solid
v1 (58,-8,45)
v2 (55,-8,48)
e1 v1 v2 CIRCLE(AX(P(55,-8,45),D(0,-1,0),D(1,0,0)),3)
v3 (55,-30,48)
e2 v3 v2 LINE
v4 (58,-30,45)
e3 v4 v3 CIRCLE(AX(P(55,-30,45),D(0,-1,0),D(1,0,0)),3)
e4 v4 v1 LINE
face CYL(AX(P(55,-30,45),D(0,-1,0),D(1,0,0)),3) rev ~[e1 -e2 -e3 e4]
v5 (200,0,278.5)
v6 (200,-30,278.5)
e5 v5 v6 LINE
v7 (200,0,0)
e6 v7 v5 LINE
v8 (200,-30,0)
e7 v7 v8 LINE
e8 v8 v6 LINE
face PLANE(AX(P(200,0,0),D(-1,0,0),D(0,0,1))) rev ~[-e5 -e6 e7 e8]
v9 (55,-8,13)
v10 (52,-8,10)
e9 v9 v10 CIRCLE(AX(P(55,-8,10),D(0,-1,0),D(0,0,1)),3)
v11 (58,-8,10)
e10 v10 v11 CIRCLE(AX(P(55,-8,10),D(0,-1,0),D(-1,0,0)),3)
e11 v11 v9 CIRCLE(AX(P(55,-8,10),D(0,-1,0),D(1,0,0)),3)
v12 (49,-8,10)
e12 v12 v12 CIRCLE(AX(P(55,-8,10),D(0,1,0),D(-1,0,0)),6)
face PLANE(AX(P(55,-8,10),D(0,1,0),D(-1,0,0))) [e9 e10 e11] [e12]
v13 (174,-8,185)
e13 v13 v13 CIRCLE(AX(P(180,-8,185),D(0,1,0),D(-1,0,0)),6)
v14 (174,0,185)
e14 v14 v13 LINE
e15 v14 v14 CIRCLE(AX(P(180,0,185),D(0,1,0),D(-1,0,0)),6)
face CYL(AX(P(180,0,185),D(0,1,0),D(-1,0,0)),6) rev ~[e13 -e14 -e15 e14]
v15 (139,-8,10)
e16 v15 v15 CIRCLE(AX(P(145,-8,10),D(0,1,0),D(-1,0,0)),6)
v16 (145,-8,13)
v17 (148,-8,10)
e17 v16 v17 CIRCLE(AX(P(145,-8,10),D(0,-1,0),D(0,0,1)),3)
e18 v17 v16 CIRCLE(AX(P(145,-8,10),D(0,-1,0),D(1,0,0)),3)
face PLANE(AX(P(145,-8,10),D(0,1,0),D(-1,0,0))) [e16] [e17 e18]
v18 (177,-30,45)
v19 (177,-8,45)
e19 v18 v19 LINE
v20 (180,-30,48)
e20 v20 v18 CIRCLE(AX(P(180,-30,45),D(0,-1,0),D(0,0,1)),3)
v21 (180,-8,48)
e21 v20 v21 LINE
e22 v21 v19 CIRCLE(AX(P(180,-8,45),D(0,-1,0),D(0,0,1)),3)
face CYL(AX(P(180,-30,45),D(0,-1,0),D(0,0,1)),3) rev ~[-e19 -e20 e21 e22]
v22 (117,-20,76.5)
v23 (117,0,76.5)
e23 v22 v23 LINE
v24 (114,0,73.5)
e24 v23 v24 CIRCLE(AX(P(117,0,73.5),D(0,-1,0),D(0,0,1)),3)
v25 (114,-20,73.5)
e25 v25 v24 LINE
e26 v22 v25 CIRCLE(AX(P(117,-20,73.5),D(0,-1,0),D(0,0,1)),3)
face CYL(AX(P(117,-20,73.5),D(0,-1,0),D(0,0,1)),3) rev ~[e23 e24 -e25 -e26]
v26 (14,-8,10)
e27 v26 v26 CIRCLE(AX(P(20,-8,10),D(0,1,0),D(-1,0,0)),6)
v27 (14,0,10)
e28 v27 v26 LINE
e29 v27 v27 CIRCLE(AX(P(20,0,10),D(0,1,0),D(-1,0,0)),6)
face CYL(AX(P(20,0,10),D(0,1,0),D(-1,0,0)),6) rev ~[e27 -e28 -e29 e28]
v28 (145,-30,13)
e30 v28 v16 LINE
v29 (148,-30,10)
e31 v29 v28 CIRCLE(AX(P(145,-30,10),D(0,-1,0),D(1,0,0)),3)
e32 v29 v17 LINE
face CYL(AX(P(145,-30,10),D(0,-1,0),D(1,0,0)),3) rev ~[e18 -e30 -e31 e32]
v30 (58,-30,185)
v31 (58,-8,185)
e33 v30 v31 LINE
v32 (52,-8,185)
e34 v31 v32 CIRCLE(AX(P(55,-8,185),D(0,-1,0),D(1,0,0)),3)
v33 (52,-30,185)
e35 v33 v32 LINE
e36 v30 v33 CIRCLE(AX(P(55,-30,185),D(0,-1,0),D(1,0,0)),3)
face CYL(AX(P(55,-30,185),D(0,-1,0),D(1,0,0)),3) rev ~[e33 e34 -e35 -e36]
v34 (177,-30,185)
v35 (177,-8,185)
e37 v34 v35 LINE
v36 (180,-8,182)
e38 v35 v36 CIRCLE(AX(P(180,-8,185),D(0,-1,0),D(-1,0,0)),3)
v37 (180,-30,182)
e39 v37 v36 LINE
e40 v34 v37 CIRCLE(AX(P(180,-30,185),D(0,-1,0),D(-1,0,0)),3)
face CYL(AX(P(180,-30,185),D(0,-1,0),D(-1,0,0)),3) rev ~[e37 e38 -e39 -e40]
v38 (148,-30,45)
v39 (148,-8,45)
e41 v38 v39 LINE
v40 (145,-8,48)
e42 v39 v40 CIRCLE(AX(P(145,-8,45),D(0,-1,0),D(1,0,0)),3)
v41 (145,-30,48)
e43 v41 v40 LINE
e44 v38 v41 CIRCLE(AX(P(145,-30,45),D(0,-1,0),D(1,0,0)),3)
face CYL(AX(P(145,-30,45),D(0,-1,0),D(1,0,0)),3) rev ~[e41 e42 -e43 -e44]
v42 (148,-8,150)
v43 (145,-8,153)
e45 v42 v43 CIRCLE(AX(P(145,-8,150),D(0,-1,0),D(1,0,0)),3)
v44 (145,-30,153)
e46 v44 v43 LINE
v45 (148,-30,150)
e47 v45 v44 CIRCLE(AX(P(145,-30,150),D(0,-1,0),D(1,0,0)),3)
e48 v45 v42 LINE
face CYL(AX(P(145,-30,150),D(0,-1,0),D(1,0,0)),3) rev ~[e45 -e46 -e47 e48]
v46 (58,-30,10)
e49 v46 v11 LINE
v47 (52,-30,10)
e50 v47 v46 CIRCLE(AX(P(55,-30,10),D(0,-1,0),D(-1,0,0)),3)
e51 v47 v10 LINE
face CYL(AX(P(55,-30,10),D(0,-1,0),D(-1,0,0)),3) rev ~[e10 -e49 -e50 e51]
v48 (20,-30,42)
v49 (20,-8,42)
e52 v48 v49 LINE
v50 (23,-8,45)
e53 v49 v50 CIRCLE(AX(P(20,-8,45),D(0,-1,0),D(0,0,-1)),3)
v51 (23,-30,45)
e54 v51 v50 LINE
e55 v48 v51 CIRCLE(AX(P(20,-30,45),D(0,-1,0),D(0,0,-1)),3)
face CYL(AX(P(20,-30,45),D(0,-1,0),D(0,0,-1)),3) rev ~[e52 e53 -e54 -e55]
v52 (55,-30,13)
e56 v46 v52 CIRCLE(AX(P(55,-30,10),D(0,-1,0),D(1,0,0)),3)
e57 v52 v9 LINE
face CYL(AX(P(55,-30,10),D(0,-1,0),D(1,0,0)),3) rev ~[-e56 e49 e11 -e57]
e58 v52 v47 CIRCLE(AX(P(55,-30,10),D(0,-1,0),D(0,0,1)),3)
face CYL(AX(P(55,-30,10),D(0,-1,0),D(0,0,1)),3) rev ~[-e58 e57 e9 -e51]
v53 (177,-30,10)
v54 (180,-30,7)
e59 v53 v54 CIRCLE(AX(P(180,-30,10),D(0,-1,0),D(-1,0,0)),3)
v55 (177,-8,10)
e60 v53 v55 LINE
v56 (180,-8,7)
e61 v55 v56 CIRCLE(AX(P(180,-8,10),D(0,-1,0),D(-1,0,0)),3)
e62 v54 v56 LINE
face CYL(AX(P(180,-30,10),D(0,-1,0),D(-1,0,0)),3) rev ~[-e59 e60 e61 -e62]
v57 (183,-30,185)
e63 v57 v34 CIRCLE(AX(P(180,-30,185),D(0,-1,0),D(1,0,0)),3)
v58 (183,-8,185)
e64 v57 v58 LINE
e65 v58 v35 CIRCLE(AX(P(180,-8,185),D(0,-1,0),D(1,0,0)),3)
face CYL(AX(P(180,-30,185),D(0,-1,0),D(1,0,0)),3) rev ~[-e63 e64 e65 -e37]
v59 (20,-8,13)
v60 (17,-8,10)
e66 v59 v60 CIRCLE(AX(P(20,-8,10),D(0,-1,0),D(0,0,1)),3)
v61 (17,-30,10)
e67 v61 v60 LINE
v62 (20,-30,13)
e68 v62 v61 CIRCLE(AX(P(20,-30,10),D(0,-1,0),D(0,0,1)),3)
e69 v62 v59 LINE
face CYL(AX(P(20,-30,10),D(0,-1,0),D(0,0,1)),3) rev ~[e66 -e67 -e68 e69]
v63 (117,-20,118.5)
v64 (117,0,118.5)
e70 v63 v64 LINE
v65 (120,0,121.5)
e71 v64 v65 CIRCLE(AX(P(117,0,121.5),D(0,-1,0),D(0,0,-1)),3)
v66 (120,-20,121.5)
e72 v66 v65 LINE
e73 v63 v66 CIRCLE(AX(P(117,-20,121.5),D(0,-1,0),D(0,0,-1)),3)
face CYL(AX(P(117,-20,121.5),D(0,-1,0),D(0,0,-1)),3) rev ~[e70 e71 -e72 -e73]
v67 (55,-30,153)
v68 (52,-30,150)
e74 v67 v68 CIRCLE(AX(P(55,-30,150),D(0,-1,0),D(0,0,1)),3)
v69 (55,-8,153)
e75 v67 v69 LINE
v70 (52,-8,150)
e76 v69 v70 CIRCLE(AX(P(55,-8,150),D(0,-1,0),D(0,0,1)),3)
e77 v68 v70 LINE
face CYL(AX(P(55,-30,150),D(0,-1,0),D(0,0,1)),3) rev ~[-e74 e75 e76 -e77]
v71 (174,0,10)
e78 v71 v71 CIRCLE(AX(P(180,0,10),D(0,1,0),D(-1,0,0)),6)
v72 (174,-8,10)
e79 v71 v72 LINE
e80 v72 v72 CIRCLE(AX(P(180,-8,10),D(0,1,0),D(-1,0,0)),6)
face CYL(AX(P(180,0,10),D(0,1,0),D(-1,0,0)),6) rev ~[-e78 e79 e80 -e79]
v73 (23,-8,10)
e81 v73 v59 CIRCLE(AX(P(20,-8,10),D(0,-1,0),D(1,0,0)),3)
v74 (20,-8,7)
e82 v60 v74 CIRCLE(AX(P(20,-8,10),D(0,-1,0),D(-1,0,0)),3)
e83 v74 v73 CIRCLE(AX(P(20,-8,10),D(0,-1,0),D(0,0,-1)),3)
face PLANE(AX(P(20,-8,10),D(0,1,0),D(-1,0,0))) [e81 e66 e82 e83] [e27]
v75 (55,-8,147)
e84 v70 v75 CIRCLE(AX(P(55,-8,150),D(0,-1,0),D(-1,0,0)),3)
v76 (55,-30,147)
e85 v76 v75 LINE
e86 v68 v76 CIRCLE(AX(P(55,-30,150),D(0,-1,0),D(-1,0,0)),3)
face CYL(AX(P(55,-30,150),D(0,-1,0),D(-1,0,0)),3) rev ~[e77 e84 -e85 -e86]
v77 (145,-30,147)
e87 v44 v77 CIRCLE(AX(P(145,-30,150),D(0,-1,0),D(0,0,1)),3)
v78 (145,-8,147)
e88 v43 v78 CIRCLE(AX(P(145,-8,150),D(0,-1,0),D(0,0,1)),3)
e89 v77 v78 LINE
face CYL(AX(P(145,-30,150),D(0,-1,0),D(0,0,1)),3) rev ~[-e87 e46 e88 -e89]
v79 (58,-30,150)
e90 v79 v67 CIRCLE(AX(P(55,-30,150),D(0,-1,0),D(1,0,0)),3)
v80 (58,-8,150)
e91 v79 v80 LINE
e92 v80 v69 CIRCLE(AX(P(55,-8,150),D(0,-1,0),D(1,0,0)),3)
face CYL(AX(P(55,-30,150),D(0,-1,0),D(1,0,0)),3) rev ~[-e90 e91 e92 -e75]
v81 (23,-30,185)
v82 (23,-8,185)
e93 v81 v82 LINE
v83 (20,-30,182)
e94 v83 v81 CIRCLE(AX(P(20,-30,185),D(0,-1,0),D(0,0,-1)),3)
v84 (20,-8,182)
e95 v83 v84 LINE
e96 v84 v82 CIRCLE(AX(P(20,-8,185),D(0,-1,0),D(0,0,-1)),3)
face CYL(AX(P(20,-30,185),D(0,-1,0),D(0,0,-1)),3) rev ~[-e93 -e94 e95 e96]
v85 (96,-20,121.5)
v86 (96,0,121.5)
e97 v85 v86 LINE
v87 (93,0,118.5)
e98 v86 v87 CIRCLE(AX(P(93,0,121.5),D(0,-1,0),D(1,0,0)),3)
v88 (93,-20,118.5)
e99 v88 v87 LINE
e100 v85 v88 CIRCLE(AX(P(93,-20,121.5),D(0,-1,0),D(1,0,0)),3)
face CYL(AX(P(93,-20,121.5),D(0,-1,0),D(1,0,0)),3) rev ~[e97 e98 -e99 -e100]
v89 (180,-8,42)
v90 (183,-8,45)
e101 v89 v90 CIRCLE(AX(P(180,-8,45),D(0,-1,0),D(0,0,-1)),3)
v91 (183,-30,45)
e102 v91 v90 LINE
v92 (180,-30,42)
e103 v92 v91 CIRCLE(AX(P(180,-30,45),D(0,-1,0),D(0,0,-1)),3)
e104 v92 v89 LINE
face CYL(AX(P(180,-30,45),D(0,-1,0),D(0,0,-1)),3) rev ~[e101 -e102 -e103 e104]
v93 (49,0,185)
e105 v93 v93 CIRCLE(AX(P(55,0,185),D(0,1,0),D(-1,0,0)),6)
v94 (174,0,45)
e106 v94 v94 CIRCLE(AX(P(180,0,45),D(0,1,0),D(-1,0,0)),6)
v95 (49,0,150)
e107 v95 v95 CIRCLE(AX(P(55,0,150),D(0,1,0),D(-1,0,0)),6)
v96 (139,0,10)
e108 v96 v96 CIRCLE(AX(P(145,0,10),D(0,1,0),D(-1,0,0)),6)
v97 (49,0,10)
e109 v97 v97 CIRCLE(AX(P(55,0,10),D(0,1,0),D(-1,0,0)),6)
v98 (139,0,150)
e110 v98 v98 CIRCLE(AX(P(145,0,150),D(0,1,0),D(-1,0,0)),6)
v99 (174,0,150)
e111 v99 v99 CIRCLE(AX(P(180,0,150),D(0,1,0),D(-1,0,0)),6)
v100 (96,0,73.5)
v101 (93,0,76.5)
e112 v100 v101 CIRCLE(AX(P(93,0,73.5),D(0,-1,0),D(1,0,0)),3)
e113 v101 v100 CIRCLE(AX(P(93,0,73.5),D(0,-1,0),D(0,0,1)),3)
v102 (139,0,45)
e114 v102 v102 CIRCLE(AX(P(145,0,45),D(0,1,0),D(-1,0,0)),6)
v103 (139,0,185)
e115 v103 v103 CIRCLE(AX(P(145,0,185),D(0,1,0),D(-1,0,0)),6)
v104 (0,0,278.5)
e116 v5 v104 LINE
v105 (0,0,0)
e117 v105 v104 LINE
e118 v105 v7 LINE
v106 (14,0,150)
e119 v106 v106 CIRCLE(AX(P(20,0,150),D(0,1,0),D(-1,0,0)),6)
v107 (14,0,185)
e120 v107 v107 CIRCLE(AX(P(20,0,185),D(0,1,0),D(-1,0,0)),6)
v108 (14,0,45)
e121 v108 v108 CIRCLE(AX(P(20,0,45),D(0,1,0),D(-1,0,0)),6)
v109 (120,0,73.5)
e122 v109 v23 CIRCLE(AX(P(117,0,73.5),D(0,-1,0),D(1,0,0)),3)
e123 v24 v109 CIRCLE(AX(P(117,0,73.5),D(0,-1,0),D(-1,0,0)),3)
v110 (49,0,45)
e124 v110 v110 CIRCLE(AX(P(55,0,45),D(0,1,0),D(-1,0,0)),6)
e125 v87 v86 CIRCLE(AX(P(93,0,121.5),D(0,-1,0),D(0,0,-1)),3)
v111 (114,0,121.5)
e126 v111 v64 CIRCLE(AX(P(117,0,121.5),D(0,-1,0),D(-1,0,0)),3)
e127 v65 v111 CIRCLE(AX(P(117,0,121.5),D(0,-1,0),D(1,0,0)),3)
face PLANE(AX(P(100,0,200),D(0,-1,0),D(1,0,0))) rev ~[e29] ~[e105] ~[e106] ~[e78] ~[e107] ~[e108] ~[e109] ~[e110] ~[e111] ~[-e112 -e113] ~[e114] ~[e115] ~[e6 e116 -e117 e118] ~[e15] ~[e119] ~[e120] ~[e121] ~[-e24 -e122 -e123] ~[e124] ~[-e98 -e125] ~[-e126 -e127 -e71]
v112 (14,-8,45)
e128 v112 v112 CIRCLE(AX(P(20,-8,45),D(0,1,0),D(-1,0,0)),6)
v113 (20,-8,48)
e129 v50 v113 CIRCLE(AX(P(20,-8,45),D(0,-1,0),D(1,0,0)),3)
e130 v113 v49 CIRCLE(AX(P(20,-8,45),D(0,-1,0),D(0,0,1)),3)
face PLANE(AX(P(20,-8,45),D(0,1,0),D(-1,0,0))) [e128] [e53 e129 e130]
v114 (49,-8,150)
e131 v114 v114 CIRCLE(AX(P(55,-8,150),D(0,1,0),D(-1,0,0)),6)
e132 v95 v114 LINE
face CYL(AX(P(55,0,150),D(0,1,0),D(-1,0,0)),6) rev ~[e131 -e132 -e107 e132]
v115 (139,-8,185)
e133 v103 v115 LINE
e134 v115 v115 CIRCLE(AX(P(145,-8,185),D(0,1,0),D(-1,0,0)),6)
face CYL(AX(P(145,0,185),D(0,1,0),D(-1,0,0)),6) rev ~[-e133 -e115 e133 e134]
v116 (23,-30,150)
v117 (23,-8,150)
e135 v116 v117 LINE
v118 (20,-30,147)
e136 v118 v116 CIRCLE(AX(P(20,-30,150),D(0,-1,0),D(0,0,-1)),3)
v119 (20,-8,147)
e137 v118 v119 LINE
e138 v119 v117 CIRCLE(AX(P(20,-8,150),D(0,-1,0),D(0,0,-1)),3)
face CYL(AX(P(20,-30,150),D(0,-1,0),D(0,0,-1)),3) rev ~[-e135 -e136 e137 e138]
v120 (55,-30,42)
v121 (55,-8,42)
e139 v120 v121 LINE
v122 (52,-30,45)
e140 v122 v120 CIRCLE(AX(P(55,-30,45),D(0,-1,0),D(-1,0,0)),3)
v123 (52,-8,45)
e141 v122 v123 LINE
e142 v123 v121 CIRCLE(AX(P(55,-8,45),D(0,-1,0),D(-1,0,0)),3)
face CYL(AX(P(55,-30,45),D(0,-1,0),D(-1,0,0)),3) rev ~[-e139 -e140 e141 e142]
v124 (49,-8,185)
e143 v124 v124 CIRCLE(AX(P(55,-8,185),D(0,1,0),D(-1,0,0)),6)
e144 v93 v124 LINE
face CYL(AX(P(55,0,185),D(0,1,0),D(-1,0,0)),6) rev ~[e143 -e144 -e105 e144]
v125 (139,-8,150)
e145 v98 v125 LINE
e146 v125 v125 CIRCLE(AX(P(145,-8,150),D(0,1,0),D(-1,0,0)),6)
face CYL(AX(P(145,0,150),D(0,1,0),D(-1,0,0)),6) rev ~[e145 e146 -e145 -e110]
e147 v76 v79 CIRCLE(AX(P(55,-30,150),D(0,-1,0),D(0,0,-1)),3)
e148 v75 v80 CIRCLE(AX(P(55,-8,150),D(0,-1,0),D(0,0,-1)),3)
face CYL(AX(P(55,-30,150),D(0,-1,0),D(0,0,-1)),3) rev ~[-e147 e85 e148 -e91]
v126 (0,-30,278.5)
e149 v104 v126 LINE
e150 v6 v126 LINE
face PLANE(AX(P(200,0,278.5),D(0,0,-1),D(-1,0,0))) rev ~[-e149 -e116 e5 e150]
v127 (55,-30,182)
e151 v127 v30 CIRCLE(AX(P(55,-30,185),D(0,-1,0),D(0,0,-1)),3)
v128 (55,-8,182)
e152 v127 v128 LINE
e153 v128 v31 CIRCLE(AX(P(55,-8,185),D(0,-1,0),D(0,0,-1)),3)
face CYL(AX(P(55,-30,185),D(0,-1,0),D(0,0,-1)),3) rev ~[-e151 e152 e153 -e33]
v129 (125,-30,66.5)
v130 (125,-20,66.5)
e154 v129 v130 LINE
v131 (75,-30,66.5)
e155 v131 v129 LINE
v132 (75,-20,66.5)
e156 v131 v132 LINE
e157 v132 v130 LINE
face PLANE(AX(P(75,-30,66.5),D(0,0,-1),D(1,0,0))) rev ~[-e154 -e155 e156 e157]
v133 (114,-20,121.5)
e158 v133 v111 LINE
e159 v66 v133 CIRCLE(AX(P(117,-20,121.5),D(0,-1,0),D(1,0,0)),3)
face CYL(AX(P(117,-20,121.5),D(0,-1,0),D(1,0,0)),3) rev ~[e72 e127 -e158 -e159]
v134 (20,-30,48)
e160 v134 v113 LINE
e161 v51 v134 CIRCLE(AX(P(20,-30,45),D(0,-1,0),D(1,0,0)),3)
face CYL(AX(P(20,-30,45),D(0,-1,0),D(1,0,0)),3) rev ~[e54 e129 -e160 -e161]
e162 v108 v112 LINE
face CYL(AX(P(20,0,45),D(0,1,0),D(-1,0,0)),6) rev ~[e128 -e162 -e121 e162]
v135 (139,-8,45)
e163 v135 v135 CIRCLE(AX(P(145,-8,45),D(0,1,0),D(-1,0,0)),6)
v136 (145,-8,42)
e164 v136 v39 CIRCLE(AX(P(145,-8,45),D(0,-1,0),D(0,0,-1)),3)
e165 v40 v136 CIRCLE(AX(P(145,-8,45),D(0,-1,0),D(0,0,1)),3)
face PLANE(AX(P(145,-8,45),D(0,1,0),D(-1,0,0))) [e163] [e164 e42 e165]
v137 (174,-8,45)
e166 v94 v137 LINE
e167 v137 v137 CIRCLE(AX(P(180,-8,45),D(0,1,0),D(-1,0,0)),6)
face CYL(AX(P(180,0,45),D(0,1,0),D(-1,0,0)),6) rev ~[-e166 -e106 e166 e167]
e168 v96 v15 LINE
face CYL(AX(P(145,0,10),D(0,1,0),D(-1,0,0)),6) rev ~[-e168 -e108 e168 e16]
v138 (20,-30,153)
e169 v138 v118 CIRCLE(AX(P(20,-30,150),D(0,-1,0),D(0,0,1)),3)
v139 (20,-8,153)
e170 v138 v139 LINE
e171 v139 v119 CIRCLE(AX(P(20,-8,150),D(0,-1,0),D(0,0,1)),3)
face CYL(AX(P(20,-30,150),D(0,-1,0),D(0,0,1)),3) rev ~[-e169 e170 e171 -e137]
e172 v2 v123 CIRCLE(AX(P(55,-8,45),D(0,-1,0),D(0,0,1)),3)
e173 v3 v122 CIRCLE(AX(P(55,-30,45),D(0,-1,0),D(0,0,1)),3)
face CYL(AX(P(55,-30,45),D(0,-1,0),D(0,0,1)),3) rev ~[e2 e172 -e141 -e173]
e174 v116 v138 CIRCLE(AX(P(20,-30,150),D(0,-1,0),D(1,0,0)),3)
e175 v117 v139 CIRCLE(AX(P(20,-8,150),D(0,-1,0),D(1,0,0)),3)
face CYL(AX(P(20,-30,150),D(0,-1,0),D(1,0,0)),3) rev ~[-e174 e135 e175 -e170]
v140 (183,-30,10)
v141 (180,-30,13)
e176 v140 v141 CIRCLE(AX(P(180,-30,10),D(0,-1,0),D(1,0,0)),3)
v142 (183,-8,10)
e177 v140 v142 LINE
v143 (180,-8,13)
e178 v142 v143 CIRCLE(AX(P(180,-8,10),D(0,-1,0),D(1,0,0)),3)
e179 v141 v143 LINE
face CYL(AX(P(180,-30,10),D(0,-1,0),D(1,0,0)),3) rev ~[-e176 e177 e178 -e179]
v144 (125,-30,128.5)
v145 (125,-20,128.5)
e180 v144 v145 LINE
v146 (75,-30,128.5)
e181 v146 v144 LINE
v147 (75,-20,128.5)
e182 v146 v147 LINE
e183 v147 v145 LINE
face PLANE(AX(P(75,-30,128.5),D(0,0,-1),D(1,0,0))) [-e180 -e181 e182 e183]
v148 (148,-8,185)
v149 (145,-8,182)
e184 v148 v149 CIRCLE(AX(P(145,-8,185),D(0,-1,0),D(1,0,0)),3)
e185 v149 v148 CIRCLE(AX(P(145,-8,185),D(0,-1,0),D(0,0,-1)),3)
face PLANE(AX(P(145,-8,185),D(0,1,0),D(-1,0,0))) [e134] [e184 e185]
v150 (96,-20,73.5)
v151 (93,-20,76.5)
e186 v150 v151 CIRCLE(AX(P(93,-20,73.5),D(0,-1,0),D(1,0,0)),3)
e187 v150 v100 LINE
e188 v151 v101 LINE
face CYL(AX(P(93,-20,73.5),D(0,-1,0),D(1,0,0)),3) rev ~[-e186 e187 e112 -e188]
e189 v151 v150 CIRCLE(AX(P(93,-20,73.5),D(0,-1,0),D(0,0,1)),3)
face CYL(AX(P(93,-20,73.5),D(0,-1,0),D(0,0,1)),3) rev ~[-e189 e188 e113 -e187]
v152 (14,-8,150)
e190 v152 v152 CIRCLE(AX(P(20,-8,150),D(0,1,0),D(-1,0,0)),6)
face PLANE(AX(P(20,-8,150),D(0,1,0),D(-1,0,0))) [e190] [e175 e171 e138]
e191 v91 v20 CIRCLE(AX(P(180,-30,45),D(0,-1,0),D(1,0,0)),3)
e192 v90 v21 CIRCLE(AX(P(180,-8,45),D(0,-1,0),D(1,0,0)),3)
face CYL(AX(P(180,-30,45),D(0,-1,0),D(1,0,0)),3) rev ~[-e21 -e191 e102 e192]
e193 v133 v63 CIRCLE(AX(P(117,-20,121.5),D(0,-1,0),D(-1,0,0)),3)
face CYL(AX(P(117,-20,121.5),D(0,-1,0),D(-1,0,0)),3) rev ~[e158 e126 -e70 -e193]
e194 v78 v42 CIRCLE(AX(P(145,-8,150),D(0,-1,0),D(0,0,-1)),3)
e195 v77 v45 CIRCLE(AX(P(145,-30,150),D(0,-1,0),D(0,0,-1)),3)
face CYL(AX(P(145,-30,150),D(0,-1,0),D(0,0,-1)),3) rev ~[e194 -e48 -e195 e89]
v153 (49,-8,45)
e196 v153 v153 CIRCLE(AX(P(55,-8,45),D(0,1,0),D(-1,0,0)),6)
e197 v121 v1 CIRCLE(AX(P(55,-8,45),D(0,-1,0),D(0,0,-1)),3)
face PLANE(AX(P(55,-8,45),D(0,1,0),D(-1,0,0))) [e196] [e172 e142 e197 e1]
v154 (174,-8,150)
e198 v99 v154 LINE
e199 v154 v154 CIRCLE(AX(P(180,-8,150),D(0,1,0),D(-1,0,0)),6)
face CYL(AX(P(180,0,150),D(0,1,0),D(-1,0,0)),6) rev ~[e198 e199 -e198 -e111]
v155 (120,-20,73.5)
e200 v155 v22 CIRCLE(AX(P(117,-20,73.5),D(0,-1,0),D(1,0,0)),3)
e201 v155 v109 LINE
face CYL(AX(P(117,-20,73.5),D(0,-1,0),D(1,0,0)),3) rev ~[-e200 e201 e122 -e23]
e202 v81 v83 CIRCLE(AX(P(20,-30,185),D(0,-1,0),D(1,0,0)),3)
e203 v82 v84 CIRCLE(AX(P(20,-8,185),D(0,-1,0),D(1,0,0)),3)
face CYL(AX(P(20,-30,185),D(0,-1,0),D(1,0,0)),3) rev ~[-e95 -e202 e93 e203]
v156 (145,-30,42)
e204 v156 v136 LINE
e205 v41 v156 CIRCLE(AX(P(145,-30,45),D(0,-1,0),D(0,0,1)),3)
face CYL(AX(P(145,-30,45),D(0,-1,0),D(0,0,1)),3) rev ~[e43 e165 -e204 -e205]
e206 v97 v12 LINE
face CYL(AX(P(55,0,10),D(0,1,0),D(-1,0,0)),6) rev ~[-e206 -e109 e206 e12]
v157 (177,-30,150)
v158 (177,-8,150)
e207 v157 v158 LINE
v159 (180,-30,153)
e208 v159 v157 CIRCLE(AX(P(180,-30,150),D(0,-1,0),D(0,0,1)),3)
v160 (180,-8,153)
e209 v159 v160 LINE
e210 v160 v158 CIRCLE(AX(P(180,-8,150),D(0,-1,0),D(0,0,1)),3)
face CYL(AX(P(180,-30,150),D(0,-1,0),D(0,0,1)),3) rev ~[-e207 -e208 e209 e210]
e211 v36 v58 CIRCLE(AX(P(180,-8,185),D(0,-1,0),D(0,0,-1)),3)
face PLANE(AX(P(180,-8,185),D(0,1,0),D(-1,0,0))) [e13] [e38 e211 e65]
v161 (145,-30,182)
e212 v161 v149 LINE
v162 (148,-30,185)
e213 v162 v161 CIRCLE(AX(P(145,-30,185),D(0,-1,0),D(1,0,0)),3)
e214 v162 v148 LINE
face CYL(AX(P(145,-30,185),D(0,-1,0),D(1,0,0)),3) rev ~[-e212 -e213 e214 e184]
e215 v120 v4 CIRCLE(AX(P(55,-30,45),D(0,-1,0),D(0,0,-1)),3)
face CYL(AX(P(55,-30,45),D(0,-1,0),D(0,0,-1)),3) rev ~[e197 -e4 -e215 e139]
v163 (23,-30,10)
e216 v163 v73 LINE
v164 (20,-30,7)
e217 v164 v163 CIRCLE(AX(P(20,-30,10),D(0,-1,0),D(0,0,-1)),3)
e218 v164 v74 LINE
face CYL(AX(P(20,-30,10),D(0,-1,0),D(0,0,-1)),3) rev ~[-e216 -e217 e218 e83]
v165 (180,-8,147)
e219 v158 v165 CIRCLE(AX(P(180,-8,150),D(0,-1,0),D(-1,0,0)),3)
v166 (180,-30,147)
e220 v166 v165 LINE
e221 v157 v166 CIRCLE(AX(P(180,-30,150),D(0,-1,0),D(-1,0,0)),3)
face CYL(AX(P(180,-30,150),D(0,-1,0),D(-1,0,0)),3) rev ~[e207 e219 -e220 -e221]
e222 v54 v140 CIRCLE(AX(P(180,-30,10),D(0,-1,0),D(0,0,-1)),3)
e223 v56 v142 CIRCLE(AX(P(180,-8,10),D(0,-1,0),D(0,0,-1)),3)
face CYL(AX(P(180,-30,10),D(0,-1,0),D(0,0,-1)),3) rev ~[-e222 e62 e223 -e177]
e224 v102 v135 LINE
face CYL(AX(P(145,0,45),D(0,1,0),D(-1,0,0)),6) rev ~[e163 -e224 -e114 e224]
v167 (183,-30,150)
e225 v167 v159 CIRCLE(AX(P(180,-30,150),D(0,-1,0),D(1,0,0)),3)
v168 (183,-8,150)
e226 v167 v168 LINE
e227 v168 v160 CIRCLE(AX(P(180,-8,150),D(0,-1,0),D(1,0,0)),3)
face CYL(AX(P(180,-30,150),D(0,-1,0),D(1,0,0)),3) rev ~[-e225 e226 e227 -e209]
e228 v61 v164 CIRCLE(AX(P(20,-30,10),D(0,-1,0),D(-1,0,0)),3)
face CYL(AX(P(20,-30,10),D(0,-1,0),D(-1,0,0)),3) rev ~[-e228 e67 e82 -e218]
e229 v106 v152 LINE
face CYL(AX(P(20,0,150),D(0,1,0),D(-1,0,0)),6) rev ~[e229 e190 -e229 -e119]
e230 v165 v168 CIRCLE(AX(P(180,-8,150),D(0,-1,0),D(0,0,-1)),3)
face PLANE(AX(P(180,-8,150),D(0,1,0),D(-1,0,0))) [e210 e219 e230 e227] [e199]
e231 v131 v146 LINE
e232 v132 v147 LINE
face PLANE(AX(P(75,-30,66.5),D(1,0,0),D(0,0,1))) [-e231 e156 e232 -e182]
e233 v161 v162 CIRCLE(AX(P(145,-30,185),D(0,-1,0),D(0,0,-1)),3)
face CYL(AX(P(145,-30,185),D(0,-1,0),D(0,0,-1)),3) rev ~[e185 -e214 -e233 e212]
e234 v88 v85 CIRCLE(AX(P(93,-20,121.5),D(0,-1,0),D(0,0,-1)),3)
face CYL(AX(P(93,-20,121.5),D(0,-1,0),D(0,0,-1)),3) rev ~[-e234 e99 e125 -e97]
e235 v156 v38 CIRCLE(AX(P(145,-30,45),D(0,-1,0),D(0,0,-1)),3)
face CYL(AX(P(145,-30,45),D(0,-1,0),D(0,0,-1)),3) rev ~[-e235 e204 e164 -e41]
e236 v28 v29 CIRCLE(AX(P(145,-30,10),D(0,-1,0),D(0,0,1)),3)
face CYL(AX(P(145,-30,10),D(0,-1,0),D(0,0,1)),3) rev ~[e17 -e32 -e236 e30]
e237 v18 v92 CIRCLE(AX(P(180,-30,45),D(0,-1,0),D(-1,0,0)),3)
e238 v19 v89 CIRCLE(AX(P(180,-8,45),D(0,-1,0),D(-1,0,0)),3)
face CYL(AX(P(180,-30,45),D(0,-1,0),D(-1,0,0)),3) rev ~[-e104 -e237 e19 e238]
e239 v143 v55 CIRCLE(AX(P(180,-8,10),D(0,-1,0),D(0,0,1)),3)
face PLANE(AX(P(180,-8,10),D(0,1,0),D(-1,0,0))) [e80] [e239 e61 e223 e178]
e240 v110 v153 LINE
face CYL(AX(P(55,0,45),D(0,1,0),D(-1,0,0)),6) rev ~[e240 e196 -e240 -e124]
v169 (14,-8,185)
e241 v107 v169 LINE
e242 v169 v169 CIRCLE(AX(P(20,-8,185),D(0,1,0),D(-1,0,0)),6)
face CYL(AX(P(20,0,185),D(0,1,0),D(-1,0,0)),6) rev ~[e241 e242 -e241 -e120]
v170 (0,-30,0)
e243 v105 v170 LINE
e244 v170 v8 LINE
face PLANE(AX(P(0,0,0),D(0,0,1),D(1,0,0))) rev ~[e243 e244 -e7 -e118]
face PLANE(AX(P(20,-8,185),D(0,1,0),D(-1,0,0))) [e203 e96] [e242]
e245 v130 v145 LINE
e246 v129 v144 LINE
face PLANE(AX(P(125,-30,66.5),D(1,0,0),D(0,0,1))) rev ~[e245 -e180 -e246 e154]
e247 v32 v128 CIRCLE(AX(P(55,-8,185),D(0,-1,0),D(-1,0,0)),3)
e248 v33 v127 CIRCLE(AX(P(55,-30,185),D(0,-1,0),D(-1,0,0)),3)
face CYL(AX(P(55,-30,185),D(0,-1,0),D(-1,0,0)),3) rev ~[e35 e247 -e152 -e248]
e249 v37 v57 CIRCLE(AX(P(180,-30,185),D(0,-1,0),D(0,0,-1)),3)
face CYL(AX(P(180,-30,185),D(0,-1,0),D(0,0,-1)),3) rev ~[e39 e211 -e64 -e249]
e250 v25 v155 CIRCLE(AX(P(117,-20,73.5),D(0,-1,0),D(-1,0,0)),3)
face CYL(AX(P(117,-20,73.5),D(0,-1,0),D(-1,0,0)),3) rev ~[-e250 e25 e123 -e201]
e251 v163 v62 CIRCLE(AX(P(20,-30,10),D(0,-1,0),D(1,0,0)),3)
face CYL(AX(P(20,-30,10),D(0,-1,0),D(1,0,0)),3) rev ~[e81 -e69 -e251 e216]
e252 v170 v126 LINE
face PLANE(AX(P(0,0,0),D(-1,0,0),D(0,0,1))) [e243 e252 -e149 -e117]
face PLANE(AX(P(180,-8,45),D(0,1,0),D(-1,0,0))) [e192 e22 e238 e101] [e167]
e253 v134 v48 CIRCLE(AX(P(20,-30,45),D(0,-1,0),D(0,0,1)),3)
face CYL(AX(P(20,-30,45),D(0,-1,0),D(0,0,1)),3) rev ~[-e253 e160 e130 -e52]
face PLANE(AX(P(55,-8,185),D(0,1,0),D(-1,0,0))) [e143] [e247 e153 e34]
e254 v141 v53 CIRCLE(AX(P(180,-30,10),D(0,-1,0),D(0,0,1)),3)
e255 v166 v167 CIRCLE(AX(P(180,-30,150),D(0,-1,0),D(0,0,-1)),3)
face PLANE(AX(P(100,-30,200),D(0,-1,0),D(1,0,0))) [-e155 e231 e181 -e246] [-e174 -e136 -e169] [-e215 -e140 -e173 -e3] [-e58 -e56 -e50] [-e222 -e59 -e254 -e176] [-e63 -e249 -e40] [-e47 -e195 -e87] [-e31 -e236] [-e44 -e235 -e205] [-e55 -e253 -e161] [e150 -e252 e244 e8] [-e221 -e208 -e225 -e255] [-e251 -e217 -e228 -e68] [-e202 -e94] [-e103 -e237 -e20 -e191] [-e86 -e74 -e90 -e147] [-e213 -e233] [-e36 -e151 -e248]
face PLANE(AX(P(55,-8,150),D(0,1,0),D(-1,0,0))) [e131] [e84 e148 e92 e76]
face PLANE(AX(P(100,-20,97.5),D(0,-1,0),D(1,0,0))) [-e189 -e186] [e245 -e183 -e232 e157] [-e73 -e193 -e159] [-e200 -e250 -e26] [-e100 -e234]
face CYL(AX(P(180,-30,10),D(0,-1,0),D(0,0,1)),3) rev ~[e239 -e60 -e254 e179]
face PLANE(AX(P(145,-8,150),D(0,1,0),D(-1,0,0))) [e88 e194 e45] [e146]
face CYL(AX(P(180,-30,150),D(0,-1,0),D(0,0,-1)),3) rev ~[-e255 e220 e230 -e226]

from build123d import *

# Parameters (mm, degrees)
F0_W      = 200
F0_H      = 400
F1_DEPTH  = 30
F3_DEPTH  = 30
F4_W      = 50
F4_H      = 62
F5_DEPTH  = 10
F6_R      = 6
F7_DEPTH  = 8
F9_DEPTH  = 30
F10_W     = 200
F10_H     = 121.5
F11_DEPTH = 30


with BuildPart() as f1:
    # F0 (on Front) → F1 (new body)
    with BuildSketch(Plane.XZ):
        with Locations((100, 200)):
            Rectangle(F0_W, F0_H)
    extrude(amount=F1_DEPTH)

    # F2 (on face) → F3 (cut)
    with BuildSketch(Plane.XZ.offset(30)):
        with BuildLine():
            ThreePointArc((23, 185), (17.8786796564, 187.1213203436), (20, 182))
            Line((20, 182), (20, 185))
            Line((20, 185), (23, 185))
        make_face()
        with BuildLine():
            Line((20, 185), (20, 182))
            ThreePointArc((20, 182), (22.1213203436, 182.8786796564), (23, 185))
            Line((23, 185), (20, 185))
        make_face()
        with BuildLine():
            ThreePointArc((20, 153), (17, 150), (20, 147))
            Line((20, 147), (20, 150))
            Line((20, 150), (20, 153))
        make_face()
        with BuildLine():
            Line((20, 153), (20, 150))
            Line((20, 150), (23, 150))
            ThreePointArc((23, 150), (22.1213203436, 152.1213203436), (20, 153))
        make_face()
        with BuildLine():
            Line((20, 150), (20, 147))
            ThreePointArc((20, 147), (22.1213203436, 147.8786796564), (23, 150))
            Line((23, 150), (20, 150))
        make_face()
        with BuildLine():
            Line((55, 150), (52, 150))
            ThreePointArc((52, 150), (52.8786796564, 147.8786796564), (55, 147))
            Line((55, 147), (55, 150))
        make_face()
        with BuildLine():
            ThreePointArc((55, 153), (52.8786796564, 152.1213203436), (52, 150))
            Line((52, 150), (55, 150))
            Line((55, 150), (55, 153))
        make_face()
        with BuildLine():
            Line((55, 150), (55, 147))
            ThreePointArc((55, 147), (57.1213203436, 147.8786796564), (58, 150))
            ThreePointArc((58, 150), (57.1213203436, 152.1213203436), (55, 153))
            Line((55, 153), (55, 150))
        make_face()
        with BuildLine():
            Line((55, 185), (52, 185))
            ThreePointArc((52, 185), (52.8786796564, 182.8786796564), (55, 182))
            Line((55, 182), (55, 185))
        make_face()
        with BuildLine():
            ThreePointArc((58, 185), (55, 188), (52, 185))
            Line((52, 185), (55, 185))
            Line((55, 185), (55, 182))
            ThreePointArc((55, 182), (57.1213203436, 182.8786796564), (58, 185))
        make_face()
        with BuildLine():
            ThreePointArc((148, 185), (142.8786796564, 187.1213203436), (145, 182))
            Line((145, 182), (145, 185))
            Line((145, 185), (148, 185))
        make_face()
        with BuildLine():
            Line((145, 185), (145, 182))
            ThreePointArc((145, 182), (147.1213203436, 182.8786796564), (148, 185))
            Line((148, 185), (145, 185))
        make_face()
        with BuildLine():
            ThreePointArc((177, 185), (177.8786796564, 182.8786796564), (180, 182))
            Line((180, 182), (180, 185))
            Line((180, 185), (177, 185))
        make_face()
        with BuildLine():
            Line((180, 185), (180, 182))
            ThreePointArc((180, 182), (182.1213203436, 182.8786796564), (183, 185))
            ThreePointArc((183, 185), (180, 188), (177, 185))
            Line((177, 185), (180, 185))
        make_face()
        with BuildLine():
            ThreePointArc((177, 150), (177.8786796564, 147.8786796564), (180, 147))
            Line((180, 147), (180, 150))
            Line((180, 150), (177, 150))
        make_face()
        with BuildLine():
            Line((177, 150), (180, 150))
            Line((180, 150), (180, 153))
            ThreePointArc((180, 153), (177.8786796564, 152.1213203436), (177, 150))
        make_face()
        with BuildLine():
            Line((180, 150), (180, 147))
            ThreePointArc((180, 147), (182.1213203436, 147.8786796564), (183, 150))
            ThreePointArc((183, 150), (182.1213203436, 152.1213203436), (180, 153))
            Line((180, 153), (180, 150))
        make_face()
        with BuildLine():
            Line((145, 150), (145, 147))
            ThreePointArc((145, 147), (147.1213203436, 147.8786796564), (148, 150))
            Line((148, 150), (145, 150))
        make_face()
        with BuildLine():
            Line((145, 153), (145, 150))
            Line((145, 150), (148, 150))
            ThreePointArc((148, 150), (147.1213203436, 152.1213203436), (145, 153))
        make_face()
        with BuildLine():
            ThreePointArc((145, 153), (142, 150), (145, 147))
            Line((145, 147), (145, 150))
            Line((145, 150), (145, 153))
        make_face()
        with BuildLine():
            Line((180, 45), (180, 42))
            ThreePointArc((180, 42), (182.1213203436, 42.8786796564), (183, 45))
            ThreePointArc((183, 45), (182.1213203436, 47.1213203436), (180, 48))
            Line((180, 48), (180, 45))
        make_face()
        with BuildLine():
            ThreePointArc((177, 45), (177.8786796564, 42.8786796564), (180, 42))
            Line((180, 42), (180, 45))
            Line((180, 45), (177, 45))
        make_face()
        with BuildLine():
            Line((177, 45), (180, 45))
            Line((180, 45), (180, 48))
            ThreePointArc((180, 48), (177.8786796564, 47.1213203436), (177, 45))
        make_face()
        with BuildLine():
            Line((145, 45), (145, 42))
            ThreePointArc((145, 42), (147.1213203436, 42.8786796564), (148, 45))
            Line((148, 45), (145, 45))
        make_face()
        with BuildLine():
            Line((145, 45), (148, 45))
            ThreePointArc((148, 45), (147.1213203436, 47.1213203436), (145, 48))
            Line((145, 48), (145, 45))
        make_face()
        with BuildLine():
            ThreePointArc((145, 48), (142, 45), (145, 42))
            Line((145, 42), (145, 45))
            Line((145, 45), (145, 48))
        make_face()
        with BuildLine():
            ThreePointArc((145, 13), (142.8786796564, 7.8786796564), (148, 10))
            Line((148, 10), (145, 10))
            Line((145, 10), (145, 13))
        make_face()
        with BuildLine():
            Line((145, 10), (148, 10))
            ThreePointArc((148, 10), (147.1213203436, 12.1213203436), (145, 13))
            Line((145, 13), (145, 10))
        make_face()
        with BuildLine():
            ThreePointArc((177, 10), (177.8786796564, 7.8786796564), (180, 7))
            Line((180, 7), (180, 10))
            Line((180, 10), (177, 10))
        make_face()
        with BuildLine():
            Line((180, 13), (180, 10))
            Line((180, 10), (183, 10))
            ThreePointArc((183, 10), (182.1213203436, 12.1213203436), (180, 13))
        make_face()
        with BuildLine():
            Line((177, 10), (180, 10))
            Line((180, 10), (180, 13))
            ThreePointArc((180, 13), (177.8786796564, 12.1213203436), (177, 10))
        make_face()
        with BuildLine():
            Line((180, 10), (180, 7))
            ThreePointArc((180, 7), (182.1213203436, 7.8786796564), (183, 10))
            Line((183, 10), (180, 10))
        make_face()
        with BuildLine():
            Line((17, 10), (20, 10))
            Line((20, 10), (20, 13))
            ThreePointArc((20, 13), (17.8786796564, 12.1213203436), (17, 10))
        make_face()
        with BuildLine():
            Line((20, 7), (20, 10))
            Line((20, 10), (17, 10))
            ThreePointArc((17, 10), (17.8786796564, 7.8786796564), (20, 7))
        make_face()
        with BuildLine():
            Line((23, 10), (20, 10))
            Line((20, 10), (20, 7))
            ThreePointArc((20, 7), (22.1213203436, 7.8786796564), (23, 10))
        make_face()
        with BuildLine():
            Line((20, 13), (20, 10))
            Line((20, 10), (23, 10))
            ThreePointArc((23, 10), (22.1213203436, 12.1213203436), (20, 13))
        make_face()
        with BuildLine():
            Line((55, 10), (52, 10))
            ThreePointArc((52, 10), (55, 7), (58, 10))
            ThreePointArc((58, 10), (57.1213203436, 12.1213203436), (55, 13))
            Line((55, 13), (55, 10))
        make_face()
        with BuildLine():
            ThreePointArc((55, 13), (52.8786796564, 12.1213203436), (52, 10))
            Line((52, 10), (55, 10))
            Line((55, 10), (55, 13))
        make_face()
        with BuildLine():
            Line((55, 45), (55, 42))
            ThreePointArc((55, 42), (57.1213203436, 42.8786796564), (58, 45))
            ThreePointArc((58, 45), (57.1213203436, 47.1213203436), (55, 48))
            Line((55, 48), (55, 45))
        make_face()
        with BuildLine():
            ThreePointArc((52, 45), (52.8786796564, 42.8786796564), (55, 42))
            Line((55, 42), (55, 45))
            Line((55, 45), (52, 45))
        make_face()
        with BuildLine():
            ThreePointArc((55, 48), (52.8786796564, 47.1213203436), (52, 45))
            Line((52, 45), (55, 45))
            Line((55, 45), (55, 48))
        make_face()
        with BuildLine():
            Line((20, 45), (20, 42))
            ThreePointArc((20, 42), (22.1213203436, 42.8786796564), (23, 45))
            Line((23, 45), (20, 45))
        make_face()
        with BuildLine():
            ThreePointArc((20, 48), (17, 45), (20, 42))
            Line((20, 42), (20, 45))
            Line((20, 45), (20, 48))
        make_face()
        with BuildLine():
            Line((20, 48), (20, 45))
            Line((20, 45), (23, 45))
            ThreePointArc((23, 45), (22.1213203436, 47.1213203436), (20, 48))
        make_face()
    extrude(amount=-F3_DEPTH, mode=Mode.SUBTRACT)

    # F4 (on face) → F5 (cut)
    with BuildSketch(Plane.XZ.offset(30)):
        with Locations((100, 97.5)):
            Rectangle(F4_W, F4_H)
    extrude(amount=-F5_DEPTH, mode=Mode.SUBTRACT)

    # F6 (on face) → F7 (cut)
    with BuildSketch(Plane(origin=(0, 0, 0), x_dir=(-1, 0, 0), z_dir=(0, 1, 0))):
        with Locations((-180, 185)):
            Circle(F6_R)
        with Locations((-180, 150)):
            Circle(F6_R)
        with Locations((-145, 185)):
            Circle(F6_R)
        with Locations((-145, 150)):
            Circle(F6_R)
        with Locations((-180, 45)):
            Circle(F6_R)
        with Locations((-180, 10)):
            Circle(F6_R)
        with Locations((-145, 45)):
            Circle(F6_R)
        with Locations((-145, 10)):
            Circle(F6_R)
        with Locations((-55, 185)):
            Circle(F6_R)
        with Locations((-55, 150)):
            Circle(F6_R)
        with Locations((-20, 185)):
            Circle(F6_R)
        with Locations((-20, 150)):
            Circle(F6_R)
        with Locations((-55, 45)):
            Circle(F6_R)
        with Locations((-55, 10)):
            Circle(F6_R)
        with Locations((-20, 45)):
            Circle(F6_R)
        with Locations((-20, 10)):
            Circle(F6_R)
    extrude(amount=-F7_DEPTH, mode=Mode.SUBTRACT)

    # F8 (on face) → F9 (cut)
    with BuildSketch(Plane.XZ.offset(20)):
        with BuildLine():
            Line((93, 121.5), (93, 118.5))
            ThreePointArc((93, 118.5), (95.1213203436, 119.3786796564), (96, 121.5))
            Line((96, 121.5), (93, 121.5))
        make_face()
        with BuildLine():
            ThreePointArc((96, 121.5), (90.8786796564, 123.6213203436), (93, 118.5))
            Line((93, 118.5), (93, 121.5))
            Line((93, 121.5), (96, 121.5))
        make_face()
        with BuildLine():
            ThreePointArc((114, 121.5), (114.8786796564, 119.3786796564), (117, 118.5))
            Line((117, 118.5), (117, 121.5))
            Line((117, 121.5), (114, 121.5))
        make_face()
        with BuildLine():
            Line((117, 121.5), (117, 118.5))
            ThreePointArc((117, 118.5), (119.1213203436, 119.3786796564), (120, 121.5))
            ThreePointArc((120, 121.5), (117, 124.5), (114, 121.5))
            Line((114, 121.5), (117, 121.5))
        make_face()
        with BuildLine():
            Line((96, 73.5), (93, 73.5))
            Line((93, 73.5), (93, 76.5))
            ThreePointArc((93, 76.5), (90.8786796564, 71.3786796564), (96, 73.5))
        make_face()
        with BuildLine():
            Line((93, 76.5), (93, 73.5))
            Line((93, 73.5), (96, 73.5))
            ThreePointArc((96, 73.5), (95.1213203436, 75.6213203436), (93, 76.5))
        make_face()
        with BuildLine():
            ThreePointArc((117, 76.5), (114.8786796564, 75.6213203436), (114, 73.5))
            Line((114, 73.5), (117, 73.5))
            Line((117, 73.5), (117, 76.5))
        make_face()
        with BuildLine():
            Line((117, 73.5), (114, 73.5))
            ThreePointArc((114, 73.5), (117, 70.5), (120, 73.5))
            ThreePointArc((120, 73.5), (119.1213203436, 75.6213203436), (117, 76.5))
            Line((117, 76.5), (117, 73.5))
        make_face()
    extrude(amount=-F9_DEPTH, mode=Mode.SUBTRACT)

    # F10 (on face) → F11 (cut)
    with BuildSketch(Plane(origin=(0, 0, 0), x_dir=(-1, 0, 0), z_dir=(0, 1, 0))):
        with Locations((-100, 339.25)):
            Rectangle(F10_W, F10_H)
    extrude(amount=-F11_DEPTH, mode=Mode.SUBTRACT)


solid = f1.part
